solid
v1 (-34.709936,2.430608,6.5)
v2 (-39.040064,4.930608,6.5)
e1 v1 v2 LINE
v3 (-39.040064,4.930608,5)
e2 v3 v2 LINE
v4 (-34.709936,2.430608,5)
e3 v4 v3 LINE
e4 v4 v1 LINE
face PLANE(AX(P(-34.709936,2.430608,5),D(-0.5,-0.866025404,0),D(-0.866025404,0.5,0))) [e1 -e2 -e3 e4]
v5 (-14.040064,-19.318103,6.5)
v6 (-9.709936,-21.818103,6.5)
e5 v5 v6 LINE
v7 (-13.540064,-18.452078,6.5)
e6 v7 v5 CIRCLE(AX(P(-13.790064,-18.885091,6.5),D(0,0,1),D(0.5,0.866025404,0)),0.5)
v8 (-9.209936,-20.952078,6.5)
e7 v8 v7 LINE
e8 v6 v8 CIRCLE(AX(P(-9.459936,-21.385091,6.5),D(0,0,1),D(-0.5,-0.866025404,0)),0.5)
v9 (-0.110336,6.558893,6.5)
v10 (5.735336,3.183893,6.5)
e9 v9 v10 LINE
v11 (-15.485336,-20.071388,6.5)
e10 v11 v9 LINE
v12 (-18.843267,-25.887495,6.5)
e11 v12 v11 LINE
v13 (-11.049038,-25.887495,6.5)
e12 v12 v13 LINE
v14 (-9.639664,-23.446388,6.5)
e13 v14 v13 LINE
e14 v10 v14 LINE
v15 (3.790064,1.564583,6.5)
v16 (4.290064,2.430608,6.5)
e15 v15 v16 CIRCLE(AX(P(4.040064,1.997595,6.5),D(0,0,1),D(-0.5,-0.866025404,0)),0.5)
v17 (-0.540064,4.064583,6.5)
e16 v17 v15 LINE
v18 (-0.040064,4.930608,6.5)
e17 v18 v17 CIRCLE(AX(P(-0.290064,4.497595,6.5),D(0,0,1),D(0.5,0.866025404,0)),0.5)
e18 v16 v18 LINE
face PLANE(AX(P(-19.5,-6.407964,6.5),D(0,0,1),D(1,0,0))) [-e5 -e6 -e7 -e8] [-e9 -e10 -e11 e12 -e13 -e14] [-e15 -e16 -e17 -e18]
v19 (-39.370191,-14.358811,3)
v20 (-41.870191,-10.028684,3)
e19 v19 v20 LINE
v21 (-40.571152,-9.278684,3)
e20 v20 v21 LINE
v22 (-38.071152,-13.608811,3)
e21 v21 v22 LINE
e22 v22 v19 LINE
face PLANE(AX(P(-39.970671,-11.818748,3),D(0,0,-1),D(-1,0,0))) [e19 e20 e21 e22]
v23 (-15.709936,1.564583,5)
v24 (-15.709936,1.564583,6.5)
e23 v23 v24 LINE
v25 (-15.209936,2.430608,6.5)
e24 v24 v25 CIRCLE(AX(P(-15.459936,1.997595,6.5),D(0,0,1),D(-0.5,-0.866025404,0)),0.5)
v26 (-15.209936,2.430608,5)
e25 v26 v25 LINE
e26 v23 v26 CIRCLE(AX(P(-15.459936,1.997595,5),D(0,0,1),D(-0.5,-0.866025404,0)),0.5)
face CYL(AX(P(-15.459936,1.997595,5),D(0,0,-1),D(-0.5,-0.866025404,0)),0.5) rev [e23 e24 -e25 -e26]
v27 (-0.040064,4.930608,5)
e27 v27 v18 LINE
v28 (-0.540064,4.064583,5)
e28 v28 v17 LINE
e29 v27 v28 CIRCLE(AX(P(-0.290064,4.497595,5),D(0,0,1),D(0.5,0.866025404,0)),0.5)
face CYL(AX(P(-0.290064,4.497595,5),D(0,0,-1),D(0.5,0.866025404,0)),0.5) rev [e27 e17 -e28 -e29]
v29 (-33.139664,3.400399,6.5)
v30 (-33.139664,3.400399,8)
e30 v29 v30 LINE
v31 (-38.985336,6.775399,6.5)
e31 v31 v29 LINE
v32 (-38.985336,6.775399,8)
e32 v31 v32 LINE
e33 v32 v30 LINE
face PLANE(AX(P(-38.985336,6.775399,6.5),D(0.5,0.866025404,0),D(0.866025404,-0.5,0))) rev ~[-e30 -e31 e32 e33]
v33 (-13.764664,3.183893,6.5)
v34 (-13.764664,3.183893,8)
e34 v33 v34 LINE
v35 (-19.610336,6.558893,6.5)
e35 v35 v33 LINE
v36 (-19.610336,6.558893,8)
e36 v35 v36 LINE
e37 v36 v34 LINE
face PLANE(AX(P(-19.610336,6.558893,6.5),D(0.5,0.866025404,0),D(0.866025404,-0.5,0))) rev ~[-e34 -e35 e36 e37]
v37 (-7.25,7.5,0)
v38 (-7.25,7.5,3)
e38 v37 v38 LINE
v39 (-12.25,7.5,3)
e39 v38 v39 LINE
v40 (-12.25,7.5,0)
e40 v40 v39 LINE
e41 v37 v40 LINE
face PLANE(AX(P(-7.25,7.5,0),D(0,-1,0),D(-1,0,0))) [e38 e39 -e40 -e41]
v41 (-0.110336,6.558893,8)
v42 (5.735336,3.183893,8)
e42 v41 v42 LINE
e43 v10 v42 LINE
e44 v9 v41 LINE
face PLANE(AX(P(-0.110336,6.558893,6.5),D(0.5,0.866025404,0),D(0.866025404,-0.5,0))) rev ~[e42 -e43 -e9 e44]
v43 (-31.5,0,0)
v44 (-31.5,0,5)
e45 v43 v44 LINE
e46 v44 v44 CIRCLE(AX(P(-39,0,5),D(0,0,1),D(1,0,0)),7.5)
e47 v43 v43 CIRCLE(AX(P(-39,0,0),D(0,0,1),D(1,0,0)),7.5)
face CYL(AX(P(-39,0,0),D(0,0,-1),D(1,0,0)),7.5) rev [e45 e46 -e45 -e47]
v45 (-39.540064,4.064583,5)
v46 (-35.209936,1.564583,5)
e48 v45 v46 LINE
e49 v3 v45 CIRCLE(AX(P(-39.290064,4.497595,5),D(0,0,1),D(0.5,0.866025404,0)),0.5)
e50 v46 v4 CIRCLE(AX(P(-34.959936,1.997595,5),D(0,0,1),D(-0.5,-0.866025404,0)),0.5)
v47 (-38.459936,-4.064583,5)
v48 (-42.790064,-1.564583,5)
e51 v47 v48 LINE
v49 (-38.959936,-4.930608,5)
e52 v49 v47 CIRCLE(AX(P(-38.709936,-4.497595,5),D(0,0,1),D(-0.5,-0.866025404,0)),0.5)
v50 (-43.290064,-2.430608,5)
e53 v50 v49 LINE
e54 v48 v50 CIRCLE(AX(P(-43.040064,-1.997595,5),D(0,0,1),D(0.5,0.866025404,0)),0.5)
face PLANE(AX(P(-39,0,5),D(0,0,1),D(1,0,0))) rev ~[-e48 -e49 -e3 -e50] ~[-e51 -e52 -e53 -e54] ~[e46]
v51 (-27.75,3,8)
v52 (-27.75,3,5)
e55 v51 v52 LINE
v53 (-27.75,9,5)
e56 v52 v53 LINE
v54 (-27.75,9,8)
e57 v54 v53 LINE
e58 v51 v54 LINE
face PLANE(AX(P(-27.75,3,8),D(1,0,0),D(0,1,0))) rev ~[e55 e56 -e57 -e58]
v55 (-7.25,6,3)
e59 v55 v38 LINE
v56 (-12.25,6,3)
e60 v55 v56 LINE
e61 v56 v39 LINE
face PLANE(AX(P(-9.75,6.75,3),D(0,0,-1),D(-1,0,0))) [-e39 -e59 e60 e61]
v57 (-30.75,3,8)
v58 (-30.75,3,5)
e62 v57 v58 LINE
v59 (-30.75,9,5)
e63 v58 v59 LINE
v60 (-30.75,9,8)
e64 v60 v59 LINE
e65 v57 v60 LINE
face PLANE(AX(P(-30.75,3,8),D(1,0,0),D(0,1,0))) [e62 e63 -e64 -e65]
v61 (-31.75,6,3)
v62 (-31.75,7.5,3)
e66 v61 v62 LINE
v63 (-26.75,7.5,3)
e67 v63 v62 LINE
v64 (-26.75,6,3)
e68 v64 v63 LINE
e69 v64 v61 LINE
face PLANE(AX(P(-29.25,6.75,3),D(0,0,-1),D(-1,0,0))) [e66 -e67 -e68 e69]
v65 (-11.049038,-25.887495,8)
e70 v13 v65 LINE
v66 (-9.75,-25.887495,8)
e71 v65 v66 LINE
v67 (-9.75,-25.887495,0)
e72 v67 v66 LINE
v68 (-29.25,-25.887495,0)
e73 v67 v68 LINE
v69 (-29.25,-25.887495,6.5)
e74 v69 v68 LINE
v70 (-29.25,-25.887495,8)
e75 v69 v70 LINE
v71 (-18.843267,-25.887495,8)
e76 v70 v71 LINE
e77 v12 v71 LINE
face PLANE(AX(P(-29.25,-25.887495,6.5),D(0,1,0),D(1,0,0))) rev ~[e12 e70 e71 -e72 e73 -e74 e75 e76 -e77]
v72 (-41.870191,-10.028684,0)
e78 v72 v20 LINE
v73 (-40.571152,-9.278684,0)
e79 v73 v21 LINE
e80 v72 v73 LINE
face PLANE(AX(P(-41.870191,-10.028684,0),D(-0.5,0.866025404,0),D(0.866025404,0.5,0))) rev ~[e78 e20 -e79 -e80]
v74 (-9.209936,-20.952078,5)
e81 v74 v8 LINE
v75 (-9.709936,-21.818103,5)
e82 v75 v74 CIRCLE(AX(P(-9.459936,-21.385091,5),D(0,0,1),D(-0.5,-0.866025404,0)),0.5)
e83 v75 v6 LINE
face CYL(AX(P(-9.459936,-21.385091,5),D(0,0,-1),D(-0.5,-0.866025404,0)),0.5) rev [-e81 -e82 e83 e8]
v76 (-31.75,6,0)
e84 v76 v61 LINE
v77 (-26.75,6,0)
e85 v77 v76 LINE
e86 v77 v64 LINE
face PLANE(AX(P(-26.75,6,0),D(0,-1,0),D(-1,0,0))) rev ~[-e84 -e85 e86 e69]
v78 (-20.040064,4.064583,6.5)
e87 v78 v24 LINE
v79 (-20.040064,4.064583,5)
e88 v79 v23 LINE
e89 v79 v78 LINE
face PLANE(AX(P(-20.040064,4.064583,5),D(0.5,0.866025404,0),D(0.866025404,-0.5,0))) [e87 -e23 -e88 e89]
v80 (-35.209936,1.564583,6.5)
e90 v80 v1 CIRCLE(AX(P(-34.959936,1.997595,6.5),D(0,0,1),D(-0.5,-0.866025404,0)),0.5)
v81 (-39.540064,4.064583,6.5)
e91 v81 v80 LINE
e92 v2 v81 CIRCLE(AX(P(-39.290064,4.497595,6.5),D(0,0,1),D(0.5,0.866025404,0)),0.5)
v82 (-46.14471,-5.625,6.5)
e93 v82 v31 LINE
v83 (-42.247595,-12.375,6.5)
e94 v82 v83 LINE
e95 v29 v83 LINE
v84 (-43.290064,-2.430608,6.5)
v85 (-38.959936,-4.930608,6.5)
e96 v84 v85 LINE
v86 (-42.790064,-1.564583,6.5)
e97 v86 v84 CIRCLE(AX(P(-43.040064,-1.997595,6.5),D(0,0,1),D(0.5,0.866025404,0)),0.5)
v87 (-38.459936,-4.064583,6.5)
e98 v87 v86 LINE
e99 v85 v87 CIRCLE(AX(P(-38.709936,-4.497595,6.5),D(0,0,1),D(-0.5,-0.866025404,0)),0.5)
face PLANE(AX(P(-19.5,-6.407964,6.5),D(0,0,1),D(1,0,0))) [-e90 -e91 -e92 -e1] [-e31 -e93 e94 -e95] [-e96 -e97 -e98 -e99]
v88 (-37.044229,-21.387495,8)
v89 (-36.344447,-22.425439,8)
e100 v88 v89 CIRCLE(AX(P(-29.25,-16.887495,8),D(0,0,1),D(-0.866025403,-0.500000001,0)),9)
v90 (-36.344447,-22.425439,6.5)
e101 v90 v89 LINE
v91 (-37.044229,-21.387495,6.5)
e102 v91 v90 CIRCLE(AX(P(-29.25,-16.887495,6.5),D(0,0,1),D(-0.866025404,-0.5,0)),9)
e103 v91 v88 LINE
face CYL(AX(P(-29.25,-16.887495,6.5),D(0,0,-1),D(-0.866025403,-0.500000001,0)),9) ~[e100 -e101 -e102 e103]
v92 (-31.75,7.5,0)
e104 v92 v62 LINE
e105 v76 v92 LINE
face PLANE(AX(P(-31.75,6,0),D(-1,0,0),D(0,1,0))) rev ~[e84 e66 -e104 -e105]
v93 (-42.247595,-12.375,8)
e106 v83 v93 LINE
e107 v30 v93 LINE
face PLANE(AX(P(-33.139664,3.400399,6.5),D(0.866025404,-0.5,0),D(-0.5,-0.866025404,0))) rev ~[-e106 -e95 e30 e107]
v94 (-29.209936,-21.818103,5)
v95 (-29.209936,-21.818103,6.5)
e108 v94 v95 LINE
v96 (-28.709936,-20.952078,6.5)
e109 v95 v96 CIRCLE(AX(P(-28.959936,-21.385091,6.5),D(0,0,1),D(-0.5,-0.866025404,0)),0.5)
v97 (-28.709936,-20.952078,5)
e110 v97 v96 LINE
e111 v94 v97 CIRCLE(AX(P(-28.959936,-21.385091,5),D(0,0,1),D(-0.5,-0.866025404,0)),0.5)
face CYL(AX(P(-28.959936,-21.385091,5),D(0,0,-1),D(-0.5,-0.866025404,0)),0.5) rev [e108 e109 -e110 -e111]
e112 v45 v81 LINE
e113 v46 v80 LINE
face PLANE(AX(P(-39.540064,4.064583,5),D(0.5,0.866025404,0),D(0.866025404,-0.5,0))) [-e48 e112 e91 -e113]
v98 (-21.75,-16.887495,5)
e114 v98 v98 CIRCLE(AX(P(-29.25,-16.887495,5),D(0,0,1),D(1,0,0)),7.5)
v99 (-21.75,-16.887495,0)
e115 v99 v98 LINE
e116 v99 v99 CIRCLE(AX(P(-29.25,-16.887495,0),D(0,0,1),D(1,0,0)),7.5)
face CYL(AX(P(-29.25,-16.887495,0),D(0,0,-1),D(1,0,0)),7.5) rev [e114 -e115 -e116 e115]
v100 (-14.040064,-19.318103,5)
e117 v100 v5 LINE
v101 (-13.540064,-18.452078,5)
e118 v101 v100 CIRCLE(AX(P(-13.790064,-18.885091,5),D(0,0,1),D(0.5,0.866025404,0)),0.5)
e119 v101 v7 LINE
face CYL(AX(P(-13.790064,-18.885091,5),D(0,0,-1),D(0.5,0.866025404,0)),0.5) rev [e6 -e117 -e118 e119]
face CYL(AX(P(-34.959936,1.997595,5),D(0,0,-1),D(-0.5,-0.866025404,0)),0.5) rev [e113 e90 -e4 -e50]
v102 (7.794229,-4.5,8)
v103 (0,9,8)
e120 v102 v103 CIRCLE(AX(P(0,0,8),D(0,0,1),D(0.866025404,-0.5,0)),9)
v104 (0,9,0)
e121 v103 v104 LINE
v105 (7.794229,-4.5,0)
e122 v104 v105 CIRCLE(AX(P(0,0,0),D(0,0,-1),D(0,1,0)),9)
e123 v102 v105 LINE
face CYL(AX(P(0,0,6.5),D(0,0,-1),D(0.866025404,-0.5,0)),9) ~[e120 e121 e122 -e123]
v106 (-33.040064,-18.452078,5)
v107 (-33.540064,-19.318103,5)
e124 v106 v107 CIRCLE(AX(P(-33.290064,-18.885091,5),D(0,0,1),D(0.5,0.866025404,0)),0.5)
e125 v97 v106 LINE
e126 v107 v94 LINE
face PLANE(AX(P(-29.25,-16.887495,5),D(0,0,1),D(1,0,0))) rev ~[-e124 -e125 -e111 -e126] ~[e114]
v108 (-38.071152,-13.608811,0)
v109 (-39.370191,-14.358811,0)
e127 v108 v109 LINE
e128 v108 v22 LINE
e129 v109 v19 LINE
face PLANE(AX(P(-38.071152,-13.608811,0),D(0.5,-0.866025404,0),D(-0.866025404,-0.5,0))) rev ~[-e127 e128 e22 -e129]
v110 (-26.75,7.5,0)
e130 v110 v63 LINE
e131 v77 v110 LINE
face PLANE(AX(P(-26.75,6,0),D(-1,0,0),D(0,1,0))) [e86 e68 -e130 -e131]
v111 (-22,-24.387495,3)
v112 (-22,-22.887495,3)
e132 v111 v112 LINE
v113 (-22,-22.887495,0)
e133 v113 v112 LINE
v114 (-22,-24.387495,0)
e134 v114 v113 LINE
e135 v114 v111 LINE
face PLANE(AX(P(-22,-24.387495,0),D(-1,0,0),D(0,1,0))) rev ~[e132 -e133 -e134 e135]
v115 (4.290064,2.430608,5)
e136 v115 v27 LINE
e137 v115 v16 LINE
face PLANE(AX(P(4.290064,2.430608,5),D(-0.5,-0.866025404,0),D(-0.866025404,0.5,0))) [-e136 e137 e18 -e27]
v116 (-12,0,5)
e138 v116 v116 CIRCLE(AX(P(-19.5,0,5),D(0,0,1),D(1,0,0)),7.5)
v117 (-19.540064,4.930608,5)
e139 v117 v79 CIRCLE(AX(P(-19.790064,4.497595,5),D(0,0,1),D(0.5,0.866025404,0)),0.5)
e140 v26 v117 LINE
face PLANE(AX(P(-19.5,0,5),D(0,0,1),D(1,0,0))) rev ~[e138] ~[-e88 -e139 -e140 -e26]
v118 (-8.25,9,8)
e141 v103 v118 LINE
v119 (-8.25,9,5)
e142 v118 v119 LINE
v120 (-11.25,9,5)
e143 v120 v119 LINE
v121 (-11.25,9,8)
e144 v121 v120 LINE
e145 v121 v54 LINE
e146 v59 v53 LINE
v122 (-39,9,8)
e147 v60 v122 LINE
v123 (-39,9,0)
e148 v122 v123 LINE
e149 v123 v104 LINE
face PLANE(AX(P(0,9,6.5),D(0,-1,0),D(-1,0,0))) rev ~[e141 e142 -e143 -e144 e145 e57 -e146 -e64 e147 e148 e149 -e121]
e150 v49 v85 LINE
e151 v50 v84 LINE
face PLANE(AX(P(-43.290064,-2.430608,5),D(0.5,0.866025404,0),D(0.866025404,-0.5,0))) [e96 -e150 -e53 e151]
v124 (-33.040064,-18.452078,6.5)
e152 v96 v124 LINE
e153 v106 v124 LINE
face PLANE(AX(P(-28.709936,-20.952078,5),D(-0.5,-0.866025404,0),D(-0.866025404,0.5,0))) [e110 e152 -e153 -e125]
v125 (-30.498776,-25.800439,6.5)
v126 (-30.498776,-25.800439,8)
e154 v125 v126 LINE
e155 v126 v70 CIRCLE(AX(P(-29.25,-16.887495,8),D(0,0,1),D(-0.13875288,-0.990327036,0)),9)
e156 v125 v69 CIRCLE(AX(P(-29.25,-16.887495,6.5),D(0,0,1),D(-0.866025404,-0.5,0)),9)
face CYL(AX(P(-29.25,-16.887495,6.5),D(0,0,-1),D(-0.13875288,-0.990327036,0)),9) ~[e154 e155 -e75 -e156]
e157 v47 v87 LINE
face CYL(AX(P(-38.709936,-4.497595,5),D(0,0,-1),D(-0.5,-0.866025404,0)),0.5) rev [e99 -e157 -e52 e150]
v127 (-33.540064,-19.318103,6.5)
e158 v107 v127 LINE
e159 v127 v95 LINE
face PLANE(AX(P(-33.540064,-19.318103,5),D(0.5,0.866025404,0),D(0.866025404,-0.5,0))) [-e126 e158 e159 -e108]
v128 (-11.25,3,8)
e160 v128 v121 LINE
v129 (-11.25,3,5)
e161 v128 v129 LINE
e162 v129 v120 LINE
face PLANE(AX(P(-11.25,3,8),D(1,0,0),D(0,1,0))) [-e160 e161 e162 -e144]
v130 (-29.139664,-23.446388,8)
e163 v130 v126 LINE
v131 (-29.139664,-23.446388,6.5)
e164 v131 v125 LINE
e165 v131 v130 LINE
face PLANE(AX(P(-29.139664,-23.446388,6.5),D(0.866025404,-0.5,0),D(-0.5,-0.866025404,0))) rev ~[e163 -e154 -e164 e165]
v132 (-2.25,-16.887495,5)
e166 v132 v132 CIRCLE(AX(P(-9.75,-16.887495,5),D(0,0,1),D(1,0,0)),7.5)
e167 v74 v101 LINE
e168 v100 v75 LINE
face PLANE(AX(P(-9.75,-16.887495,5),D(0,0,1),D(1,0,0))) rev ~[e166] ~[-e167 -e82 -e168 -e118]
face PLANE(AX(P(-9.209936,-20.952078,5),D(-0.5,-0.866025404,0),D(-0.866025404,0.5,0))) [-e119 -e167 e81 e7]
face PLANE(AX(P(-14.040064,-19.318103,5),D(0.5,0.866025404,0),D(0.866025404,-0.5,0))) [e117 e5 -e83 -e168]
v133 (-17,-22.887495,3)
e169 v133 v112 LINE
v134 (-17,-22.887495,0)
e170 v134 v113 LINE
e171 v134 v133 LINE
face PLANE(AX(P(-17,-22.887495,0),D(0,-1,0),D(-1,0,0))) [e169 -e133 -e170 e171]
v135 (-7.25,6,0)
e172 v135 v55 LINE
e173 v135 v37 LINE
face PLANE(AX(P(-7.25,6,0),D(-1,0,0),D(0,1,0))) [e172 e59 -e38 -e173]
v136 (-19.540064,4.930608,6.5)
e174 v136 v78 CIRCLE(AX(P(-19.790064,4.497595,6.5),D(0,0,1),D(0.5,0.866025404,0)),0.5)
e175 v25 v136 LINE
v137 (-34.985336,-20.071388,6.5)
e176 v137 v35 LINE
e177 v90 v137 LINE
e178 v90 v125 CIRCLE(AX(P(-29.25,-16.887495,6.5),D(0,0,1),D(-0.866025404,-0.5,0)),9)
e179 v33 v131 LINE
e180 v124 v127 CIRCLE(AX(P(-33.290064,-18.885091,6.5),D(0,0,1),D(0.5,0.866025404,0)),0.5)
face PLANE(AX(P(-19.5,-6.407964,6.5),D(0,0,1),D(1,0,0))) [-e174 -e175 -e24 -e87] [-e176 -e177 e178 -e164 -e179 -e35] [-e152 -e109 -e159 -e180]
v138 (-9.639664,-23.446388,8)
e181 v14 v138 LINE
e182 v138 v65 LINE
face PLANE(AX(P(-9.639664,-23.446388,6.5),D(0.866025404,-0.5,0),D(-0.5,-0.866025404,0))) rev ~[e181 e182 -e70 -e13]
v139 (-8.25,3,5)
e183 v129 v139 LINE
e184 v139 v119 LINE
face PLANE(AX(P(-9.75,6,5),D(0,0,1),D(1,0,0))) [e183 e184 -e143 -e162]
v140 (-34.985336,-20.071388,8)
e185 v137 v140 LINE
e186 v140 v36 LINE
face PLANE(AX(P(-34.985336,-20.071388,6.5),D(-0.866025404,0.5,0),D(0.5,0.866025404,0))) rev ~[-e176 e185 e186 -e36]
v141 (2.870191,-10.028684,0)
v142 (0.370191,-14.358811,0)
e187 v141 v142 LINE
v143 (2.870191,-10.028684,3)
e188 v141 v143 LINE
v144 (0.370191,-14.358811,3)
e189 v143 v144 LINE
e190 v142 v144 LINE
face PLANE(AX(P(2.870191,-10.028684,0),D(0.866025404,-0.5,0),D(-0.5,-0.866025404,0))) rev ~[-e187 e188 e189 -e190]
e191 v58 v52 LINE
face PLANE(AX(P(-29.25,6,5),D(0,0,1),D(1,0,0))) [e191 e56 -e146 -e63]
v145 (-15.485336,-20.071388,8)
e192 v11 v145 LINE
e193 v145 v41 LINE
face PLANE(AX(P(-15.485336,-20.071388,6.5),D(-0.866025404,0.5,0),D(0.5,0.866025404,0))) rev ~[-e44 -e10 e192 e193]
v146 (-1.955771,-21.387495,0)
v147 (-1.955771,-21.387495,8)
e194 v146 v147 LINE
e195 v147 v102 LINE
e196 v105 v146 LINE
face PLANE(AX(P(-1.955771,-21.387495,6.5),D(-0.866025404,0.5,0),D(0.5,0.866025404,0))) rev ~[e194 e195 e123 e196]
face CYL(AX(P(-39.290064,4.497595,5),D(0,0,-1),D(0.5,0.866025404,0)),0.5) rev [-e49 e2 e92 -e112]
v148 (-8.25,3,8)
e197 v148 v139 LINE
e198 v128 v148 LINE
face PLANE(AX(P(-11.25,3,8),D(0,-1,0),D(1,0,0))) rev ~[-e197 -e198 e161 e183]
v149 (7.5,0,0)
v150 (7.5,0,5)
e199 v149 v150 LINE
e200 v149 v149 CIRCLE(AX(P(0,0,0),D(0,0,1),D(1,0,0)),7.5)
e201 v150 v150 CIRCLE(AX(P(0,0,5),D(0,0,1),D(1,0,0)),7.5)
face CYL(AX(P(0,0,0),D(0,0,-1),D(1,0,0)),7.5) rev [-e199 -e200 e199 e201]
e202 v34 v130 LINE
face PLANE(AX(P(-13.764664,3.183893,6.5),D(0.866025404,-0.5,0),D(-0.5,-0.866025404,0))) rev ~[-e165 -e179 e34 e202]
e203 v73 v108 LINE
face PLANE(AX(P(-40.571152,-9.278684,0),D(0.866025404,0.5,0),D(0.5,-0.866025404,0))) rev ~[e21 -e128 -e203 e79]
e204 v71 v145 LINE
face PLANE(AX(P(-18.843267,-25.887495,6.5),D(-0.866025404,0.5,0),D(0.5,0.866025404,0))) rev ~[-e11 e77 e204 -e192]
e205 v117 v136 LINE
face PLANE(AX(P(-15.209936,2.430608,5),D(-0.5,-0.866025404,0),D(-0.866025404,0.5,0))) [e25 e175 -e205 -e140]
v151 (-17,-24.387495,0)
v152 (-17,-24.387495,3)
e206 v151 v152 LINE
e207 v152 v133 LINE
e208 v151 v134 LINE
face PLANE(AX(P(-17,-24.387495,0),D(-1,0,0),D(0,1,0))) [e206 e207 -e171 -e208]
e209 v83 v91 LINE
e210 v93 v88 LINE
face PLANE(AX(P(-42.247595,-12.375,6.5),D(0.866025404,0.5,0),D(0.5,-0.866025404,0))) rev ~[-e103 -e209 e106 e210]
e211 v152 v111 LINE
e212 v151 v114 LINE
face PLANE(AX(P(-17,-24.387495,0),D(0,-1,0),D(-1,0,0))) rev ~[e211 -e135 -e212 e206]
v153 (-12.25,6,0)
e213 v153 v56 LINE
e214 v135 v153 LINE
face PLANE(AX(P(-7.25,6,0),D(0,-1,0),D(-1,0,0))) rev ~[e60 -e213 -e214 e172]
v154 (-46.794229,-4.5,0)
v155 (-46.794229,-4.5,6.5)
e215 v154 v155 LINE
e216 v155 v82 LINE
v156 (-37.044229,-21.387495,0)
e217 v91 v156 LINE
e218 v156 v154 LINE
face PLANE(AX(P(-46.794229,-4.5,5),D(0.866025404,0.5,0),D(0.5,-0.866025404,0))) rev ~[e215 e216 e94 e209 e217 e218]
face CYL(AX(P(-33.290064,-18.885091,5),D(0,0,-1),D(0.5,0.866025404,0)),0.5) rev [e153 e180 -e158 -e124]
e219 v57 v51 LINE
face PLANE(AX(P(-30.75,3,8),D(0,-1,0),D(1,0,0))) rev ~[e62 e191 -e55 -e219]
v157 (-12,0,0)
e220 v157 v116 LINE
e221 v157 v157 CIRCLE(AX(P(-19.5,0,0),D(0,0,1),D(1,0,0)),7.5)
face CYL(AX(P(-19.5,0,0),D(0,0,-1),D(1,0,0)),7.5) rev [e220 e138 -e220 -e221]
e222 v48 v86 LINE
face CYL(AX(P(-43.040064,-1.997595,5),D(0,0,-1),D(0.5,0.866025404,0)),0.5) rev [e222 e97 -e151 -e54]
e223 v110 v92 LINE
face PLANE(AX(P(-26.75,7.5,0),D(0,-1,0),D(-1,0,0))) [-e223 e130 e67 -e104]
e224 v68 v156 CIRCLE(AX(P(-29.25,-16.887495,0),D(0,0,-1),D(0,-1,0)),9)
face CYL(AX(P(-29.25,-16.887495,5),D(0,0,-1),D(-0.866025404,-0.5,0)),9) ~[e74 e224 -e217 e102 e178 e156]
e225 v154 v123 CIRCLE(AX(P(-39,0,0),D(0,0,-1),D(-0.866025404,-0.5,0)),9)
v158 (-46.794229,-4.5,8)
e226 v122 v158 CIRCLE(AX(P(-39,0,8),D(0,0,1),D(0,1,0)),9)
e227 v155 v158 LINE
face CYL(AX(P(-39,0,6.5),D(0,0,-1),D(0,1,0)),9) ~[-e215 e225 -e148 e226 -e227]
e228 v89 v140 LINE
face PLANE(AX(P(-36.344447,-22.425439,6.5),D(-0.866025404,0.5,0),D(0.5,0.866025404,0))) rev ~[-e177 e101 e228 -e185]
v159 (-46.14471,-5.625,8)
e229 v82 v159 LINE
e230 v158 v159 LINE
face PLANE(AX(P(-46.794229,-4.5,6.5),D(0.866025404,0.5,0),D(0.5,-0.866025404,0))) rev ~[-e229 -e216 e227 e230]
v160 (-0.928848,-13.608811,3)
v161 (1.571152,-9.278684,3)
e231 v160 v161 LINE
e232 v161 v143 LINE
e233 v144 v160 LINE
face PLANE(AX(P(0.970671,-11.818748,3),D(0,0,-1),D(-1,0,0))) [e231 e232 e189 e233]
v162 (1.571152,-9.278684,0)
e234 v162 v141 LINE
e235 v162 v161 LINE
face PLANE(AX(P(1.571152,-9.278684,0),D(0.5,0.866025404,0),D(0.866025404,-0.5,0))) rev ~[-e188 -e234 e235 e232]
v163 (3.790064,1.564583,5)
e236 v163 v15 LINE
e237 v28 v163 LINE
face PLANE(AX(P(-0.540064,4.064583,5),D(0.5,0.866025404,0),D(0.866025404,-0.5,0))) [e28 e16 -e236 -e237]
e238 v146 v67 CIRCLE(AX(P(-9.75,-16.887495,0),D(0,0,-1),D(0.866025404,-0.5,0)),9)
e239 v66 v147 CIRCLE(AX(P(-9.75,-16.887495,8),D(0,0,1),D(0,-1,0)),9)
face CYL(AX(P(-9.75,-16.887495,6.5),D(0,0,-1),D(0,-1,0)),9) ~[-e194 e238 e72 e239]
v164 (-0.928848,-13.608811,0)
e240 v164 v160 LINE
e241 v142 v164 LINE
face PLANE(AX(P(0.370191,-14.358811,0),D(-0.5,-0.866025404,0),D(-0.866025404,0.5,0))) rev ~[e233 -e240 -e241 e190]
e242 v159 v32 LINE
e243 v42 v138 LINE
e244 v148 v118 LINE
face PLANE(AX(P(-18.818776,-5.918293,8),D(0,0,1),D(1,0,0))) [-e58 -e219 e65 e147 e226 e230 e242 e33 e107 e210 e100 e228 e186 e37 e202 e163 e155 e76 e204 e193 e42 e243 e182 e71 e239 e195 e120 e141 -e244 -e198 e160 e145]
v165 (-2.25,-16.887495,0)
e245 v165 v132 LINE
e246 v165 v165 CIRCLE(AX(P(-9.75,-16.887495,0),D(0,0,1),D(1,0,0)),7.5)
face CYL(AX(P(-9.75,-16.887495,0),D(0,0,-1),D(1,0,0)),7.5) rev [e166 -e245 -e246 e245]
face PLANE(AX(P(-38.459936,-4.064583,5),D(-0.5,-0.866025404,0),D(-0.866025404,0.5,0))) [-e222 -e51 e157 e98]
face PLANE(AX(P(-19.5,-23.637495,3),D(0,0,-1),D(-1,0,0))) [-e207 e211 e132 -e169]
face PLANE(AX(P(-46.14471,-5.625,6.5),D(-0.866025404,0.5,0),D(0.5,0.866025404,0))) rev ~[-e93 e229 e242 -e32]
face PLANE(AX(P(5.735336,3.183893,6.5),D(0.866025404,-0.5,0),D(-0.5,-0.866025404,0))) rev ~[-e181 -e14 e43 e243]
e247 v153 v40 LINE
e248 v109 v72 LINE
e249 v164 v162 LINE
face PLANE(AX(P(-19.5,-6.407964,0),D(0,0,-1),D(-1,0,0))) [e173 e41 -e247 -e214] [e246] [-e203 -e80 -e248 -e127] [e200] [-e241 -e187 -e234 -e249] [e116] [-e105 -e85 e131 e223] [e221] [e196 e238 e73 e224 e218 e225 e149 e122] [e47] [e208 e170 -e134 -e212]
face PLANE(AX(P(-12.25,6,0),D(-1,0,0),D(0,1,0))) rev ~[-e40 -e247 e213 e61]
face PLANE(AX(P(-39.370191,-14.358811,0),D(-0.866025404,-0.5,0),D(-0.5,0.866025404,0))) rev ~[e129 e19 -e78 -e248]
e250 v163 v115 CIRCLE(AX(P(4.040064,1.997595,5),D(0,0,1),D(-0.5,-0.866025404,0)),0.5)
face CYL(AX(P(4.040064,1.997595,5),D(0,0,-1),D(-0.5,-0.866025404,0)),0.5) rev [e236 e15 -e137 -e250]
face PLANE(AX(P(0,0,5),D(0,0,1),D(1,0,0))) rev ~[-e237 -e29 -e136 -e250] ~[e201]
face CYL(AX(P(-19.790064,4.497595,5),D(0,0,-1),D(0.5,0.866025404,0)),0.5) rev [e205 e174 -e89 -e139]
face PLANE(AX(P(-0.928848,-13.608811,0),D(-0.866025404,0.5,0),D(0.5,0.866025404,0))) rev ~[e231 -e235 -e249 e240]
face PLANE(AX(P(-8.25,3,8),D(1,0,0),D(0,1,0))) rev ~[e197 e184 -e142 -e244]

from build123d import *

# Parameters (mm, degrees)
SKETCH1_R           = 7.5
BOSS_EXTRUDE1_DEPTH = 5
SKETCH2_R           = 7.5
BOSS_EXTRUDE2_DEPTH = 1.5
BOSS_EXTRUDE3_DEPTH = 1.5
SKETCH9_W           = 3
SKETCH9_H           = 6
CUT_EXTRUDE4_DEPTH  = 3
SKETCH4_W           = 5
SKETCH4_H           = 1.5
CUT_EXTRUDE5_DEPTH  = 3


with BuildPart() as part:
    # Sketch1 → Boss-Extrude1 (new body)
    with BuildSketch(Plane.XY):
        with BuildLine():
            Line((7.794228634, -4.5), (-1.955771366, -21.387495374))
            ThreePointArc((-1.955771366, -21.387495374), (-5.25, -24.681724008), (-9.75, -25.887495374))
            Line((-9.75, -25.887495374), (-29.25, -25.887495374))
            ThreePointArc((-29.25, -25.887495374), (-33.75, -24.681724008), (-37.044228634, -21.387495374))
            Line((-37.044228634, -21.387495374), (-46.794228634, -4.5))
            ThreePointArc((-46.794228634, -4.5), (-46.794228634, 4.5), (-39, 9))
            Line((-39, 9), (0, 9))
            ThreePointArc((0, 9), (7.794228634, 4.5), (7.794228634, -4.5))
        make_face()
        with Locations((-29.25, -16.887495374)):
            Circle(SKETCH1_R, mode=Mode.SUBTRACT)
        with Locations((-19.5, 0)):
            Circle(SKETCH1_R, mode=Mode.SUBTRACT)
        Circle(SKETCH1_R, mode=Mode.SUBTRACT)
        with Locations((-9.75, -16.887495374)):
            Circle(SKETCH1_R, mode=Mode.SUBTRACT)
        with Locations((-39, 0)):
            Circle(SKETCH1_R, mode=Mode.SUBTRACT)
    extrude(amount=BOSS_EXTRUDE1_DEPTH)

    # Sketch2 → Boss-Extrude2 (add)
    # profile 1 of 6: a face of its own
    with BuildSketch(Plane.XY.offset(5)):
        with BuildLine():
            Line((-1.955771366, -21.387495374), (7.794228634, -4.5))
            ThreePointArc((7.794228634, -4.5), (7.794228634, 4.5), (0, 9))
            Line((0, 9), (-39, 9))
            ThreePointArc((-39, 9), (-46.794228634, 4.5), (-46.794228634, -4.5))
            Line((-46.794228634, -4.5), (-37.044228634, -21.387495374))
            ThreePointArc((-37.044228634, -21.387495374), (-33.75, -24.681724008), (-29.25, -25.887495374))
            Line((-29.25, -25.887495374), (-9.75, -25.887495374))
            ThreePointArc((-9.75, -25.887495374), (-5.25, -24.681724008), (-1.955771366, -21.387495374))
        make_face()
        Circle(SKETCH2_R, mode=Mode.SUBTRACT)
        with Locations((-19.5, 0)):
            Circle(SKETCH2_R, mode=Mode.SUBTRACT)
        with Locations((-39, 0)):
            Circle(SKETCH2_R, mode=Mode.SUBTRACT)
        with Locations((-29.25, -16.887495374)):
            Circle(SKETCH2_R, mode=Mode.SUBTRACT)
        with Locations((-9.75, -16.887495374)):
            Circle(SKETCH2_R, mode=Mode.SUBTRACT)
    # profile 2 of 6: a face of its own
    with BuildSketch(Plane.XY.offset(5)):
        with Locations((-9.75, -16.887495374)):
            Circle(SKETCH2_R)
        with BuildLine():
            ThreePointArc((-13.540063509, -18.452077936), (-14.223076211, -18.635090638), (-14.040063509, -19.31810334))
            Line((-14.040063509, -19.31810334), (-9.709936491, -21.81810334))
            ThreePointArc((-9.709936491, -21.81810334), (-9.026923789, -21.635090638), (-9.209936491, -20.952077936))
            Line((-9.209936491, -20.952077936), (-13.540063509, -18.452077936))
        make_face(mode=Mode.SUBTRACT)
    # profile 3 of 6: a face of its own
    with BuildSketch(Plane.XY.offset(5)):
        Circle(SKETCH2_R)
        with BuildLine():
            ThreePointArc((-0.040063509, 4.930607966), (-0.723076211, 4.747595264), (-0.540063509, 4.064582562))
            Line((-0.540063509, 4.064582562), (3.790063509, 1.564582562))
            ThreePointArc((3.790063509, 1.564582562), (4.473076211, 1.747595264), (4.290063509, 2.430607966))
            Line((4.290063509, 2.430607966), (-0.040063509, 4.930607966))
        make_face(mode=Mode.SUBTRACT)
    # profile 4 of 6: a face of its own
    with BuildSketch(Plane.XY.offset(5)):
        with Locations((-19.5, 0)):
            Circle(SKETCH2_R)
        with BuildLine():
            ThreePointArc((-19.540063509, 4.930607966), (-20.223076211, 4.747595264), (-20.040063509, 4.064582562))
            Line((-20.040063509, 4.064582562), (-15.709936491, 1.564582562))
            ThreePointArc((-15.709936491, 1.564582562), (-15.026923789, 1.747595264), (-15.209936491, 2.430607966))
            Line((-15.209936491, 2.430607966), (-19.540063509, 4.930607966))
        make_face(mode=Mode.SUBTRACT)
    # profile 5 of 6: a face of its own
    with BuildSketch(Plane.XY.offset(5)):
        with Locations((-29.25, -16.887495374)):
            Circle(SKETCH2_R)
        with BuildLine():
            ThreePointArc((-33.040063509, -18.452077936), (-33.723076211, -18.635090638), (-33.540063509, -19.31810334))
            Line((-33.540063509, -19.31810334), (-29.209936491, -21.81810334))
            ThreePointArc((-29.209936491, -21.81810334), (-28.526923789, -21.635090638), (-28.709936491, -20.952077936))
            Line((-28.709936491, -20.952077936), (-33.040063509, -18.452077936))
        make_face(mode=Mode.SUBTRACT)
    # profile 6 of 6: a face of its own
    with BuildSketch(Plane.XY.offset(5)):
        with Locations((-39, 0)):
            Circle(SKETCH2_R)
        with BuildLine():
            ThreePointArc((-42.790063509, -1.564582562), (-43.473076211, -1.747595264), (-43.290063509, -2.430607966))
            Line((-43.290063509, -2.430607966), (-38.959936491, -4.930607966))
            ThreePointArc((-38.959936491, -4.930607966), (-38.276923789, -4.747595264), (-38.459936491, -4.064582562))
            Line((-38.459936491, -4.064582562), (-42.790063509, -1.564582562))
        make_face(mode=Mode.SUBTRACT)
        with BuildLine():
            ThreePointArc((-39.040063509, 4.930607966), (-39.723076211, 4.747595264), (-39.540063509, 4.064582562))
            Line((-39.540063509, 4.064582562), (-35.209936491, 1.564582562))
            ThreePointArc((-35.209936491, 1.564582562), (-34.526923789, 1.747595264), (-34.709936491, 2.430607966))
            Line((-34.709936491, 2.430607966), (-39.040063509, 4.930607966))
        make_face(mode=Mode.SUBTRACT)
    extrude(amount=BOSS_EXTRUDE2_DEPTH)

    # Sketch3 → Boss-Extrude3 (add)
    with BuildSketch(Plane.XY.offset(6.5)):
        with BuildLine():
            ThreePointArc((-39, 9), (-46.794228634, 4.5), (-46.794228634, -4.5))
            Line((-46.794228634, -4.5), (-46.144709581, -5.625))
            Line((-46.144709581, -5.625), (-38.985335738, 6.775399247))
            Line((-38.985335738, 6.775399247), (-33.139664262, 3.400399247))
            Line((-33.139664262, 3.400399247), (-42.247595264, -12.375))
            Line((-42.247595264, -12.375), (-37.044228634, -21.387495374))
            ThreePointArc((-37.044228634, -21.387495374), (-36.712405778, -21.918648323), (-36.344447387, -22.425438699))
            Line((-36.344447387, -22.425438699), (-34.985335738, -20.07138827))
            Line((-34.985335738, -20.07138827), (-19.610335738, 6.558892896))
            Line((-19.610335738, 6.558892896), (-13.764664262, 3.183892896))
            Line((-13.764664262, 3.183892896), (-29.139664262, -23.44638827))
            Line((-29.139664262, -23.44638827), (-30.498775911, -25.800438699))
            ThreePointArc((-30.498775911, -25.800438699), (-29.875903375, -25.865704826), (-29.25, -25.887495374))
            Line((-29.25, -25.887495374), (-18.84326674, -25.887495374))
            Line((-18.84326674, -25.887495374), (-15.485335738, -20.07138827))
            Line((-15.485335738, -20.07138827), (-0.110335738, 6.558892896))
            Line((-0.110335738, 6.558892896), (5.735335738, 3.183892896))
            Line((5.735335738, 3.183892896), (-9.639664262, -23.44638827))
            Line((-9.639664262, -23.44638827), (-11.049038106, -25.887495374))
            Line((-11.049038106, -25.887495374), (-9.75, -25.887495374))
            ThreePointArc((-9.75, -25.887495374), (-5.25, -24.681724008), (-1.955771366, -21.387495374))
            Line((-1.955771366, -21.387495374), (7.794228634, -4.5))
            ThreePointArc((7.794228634, -4.5), (7.794228634, 4.5), (0, 9))
            Line((0, 9), (-39, 9))
        make_face()
    extrude(amount=BOSS_EXTRUDE3_DEPTH)

    # Sketch9 → Cut-Extrude4 (cut)
    with BuildSketch(Plane.XY.offset(8)):
        with Locations((-29.25, 6)):
            Rectangle(SKETCH9_W, SKETCH9_H)
        with Locations((-9.75, 6)):
            Rectangle(SKETCH9_W, SKETCH9_H)
    extrude(amount=-CUT_EXTRUDE4_DEPTH, mode=Mode.SUBTRACT)

    # Sketch4 → Cut-Extrude5 (cut)
    with BuildSketch(Plane(origin=(0, 0, 0), x_dir=(-1, 0, 0), z_dir=(0, 0, -1))):
        Polygon((-2.870190528, -10.028684177), (-0.370190528, -14.358811196), (0.928847577, -13.608811196), (-1.571152423, -9.278684177), align=None)
        with Locations((9.75, 6.75)):
            Rectangle(SKETCH4_W, SKETCH4_H)
        with Locations((29.25, 6.75)):
            Rectangle(SKETCH4_W, SKETCH4_H)
        Polygon((39.370190528, -14.358811196), (41.870190528, -10.028684177), (40.571152423, -9.278684177), (38.071152423, -13.608811196), align=None)
        with Locations((19.5, -23.637495374)):
            Rectangle(SKETCH4_W, SKETCH4_H)
    extrude(amount=-CUT_EXTRUDE5_DEPTH, mode=Mode.SUBTRACT)


solid = part.part
